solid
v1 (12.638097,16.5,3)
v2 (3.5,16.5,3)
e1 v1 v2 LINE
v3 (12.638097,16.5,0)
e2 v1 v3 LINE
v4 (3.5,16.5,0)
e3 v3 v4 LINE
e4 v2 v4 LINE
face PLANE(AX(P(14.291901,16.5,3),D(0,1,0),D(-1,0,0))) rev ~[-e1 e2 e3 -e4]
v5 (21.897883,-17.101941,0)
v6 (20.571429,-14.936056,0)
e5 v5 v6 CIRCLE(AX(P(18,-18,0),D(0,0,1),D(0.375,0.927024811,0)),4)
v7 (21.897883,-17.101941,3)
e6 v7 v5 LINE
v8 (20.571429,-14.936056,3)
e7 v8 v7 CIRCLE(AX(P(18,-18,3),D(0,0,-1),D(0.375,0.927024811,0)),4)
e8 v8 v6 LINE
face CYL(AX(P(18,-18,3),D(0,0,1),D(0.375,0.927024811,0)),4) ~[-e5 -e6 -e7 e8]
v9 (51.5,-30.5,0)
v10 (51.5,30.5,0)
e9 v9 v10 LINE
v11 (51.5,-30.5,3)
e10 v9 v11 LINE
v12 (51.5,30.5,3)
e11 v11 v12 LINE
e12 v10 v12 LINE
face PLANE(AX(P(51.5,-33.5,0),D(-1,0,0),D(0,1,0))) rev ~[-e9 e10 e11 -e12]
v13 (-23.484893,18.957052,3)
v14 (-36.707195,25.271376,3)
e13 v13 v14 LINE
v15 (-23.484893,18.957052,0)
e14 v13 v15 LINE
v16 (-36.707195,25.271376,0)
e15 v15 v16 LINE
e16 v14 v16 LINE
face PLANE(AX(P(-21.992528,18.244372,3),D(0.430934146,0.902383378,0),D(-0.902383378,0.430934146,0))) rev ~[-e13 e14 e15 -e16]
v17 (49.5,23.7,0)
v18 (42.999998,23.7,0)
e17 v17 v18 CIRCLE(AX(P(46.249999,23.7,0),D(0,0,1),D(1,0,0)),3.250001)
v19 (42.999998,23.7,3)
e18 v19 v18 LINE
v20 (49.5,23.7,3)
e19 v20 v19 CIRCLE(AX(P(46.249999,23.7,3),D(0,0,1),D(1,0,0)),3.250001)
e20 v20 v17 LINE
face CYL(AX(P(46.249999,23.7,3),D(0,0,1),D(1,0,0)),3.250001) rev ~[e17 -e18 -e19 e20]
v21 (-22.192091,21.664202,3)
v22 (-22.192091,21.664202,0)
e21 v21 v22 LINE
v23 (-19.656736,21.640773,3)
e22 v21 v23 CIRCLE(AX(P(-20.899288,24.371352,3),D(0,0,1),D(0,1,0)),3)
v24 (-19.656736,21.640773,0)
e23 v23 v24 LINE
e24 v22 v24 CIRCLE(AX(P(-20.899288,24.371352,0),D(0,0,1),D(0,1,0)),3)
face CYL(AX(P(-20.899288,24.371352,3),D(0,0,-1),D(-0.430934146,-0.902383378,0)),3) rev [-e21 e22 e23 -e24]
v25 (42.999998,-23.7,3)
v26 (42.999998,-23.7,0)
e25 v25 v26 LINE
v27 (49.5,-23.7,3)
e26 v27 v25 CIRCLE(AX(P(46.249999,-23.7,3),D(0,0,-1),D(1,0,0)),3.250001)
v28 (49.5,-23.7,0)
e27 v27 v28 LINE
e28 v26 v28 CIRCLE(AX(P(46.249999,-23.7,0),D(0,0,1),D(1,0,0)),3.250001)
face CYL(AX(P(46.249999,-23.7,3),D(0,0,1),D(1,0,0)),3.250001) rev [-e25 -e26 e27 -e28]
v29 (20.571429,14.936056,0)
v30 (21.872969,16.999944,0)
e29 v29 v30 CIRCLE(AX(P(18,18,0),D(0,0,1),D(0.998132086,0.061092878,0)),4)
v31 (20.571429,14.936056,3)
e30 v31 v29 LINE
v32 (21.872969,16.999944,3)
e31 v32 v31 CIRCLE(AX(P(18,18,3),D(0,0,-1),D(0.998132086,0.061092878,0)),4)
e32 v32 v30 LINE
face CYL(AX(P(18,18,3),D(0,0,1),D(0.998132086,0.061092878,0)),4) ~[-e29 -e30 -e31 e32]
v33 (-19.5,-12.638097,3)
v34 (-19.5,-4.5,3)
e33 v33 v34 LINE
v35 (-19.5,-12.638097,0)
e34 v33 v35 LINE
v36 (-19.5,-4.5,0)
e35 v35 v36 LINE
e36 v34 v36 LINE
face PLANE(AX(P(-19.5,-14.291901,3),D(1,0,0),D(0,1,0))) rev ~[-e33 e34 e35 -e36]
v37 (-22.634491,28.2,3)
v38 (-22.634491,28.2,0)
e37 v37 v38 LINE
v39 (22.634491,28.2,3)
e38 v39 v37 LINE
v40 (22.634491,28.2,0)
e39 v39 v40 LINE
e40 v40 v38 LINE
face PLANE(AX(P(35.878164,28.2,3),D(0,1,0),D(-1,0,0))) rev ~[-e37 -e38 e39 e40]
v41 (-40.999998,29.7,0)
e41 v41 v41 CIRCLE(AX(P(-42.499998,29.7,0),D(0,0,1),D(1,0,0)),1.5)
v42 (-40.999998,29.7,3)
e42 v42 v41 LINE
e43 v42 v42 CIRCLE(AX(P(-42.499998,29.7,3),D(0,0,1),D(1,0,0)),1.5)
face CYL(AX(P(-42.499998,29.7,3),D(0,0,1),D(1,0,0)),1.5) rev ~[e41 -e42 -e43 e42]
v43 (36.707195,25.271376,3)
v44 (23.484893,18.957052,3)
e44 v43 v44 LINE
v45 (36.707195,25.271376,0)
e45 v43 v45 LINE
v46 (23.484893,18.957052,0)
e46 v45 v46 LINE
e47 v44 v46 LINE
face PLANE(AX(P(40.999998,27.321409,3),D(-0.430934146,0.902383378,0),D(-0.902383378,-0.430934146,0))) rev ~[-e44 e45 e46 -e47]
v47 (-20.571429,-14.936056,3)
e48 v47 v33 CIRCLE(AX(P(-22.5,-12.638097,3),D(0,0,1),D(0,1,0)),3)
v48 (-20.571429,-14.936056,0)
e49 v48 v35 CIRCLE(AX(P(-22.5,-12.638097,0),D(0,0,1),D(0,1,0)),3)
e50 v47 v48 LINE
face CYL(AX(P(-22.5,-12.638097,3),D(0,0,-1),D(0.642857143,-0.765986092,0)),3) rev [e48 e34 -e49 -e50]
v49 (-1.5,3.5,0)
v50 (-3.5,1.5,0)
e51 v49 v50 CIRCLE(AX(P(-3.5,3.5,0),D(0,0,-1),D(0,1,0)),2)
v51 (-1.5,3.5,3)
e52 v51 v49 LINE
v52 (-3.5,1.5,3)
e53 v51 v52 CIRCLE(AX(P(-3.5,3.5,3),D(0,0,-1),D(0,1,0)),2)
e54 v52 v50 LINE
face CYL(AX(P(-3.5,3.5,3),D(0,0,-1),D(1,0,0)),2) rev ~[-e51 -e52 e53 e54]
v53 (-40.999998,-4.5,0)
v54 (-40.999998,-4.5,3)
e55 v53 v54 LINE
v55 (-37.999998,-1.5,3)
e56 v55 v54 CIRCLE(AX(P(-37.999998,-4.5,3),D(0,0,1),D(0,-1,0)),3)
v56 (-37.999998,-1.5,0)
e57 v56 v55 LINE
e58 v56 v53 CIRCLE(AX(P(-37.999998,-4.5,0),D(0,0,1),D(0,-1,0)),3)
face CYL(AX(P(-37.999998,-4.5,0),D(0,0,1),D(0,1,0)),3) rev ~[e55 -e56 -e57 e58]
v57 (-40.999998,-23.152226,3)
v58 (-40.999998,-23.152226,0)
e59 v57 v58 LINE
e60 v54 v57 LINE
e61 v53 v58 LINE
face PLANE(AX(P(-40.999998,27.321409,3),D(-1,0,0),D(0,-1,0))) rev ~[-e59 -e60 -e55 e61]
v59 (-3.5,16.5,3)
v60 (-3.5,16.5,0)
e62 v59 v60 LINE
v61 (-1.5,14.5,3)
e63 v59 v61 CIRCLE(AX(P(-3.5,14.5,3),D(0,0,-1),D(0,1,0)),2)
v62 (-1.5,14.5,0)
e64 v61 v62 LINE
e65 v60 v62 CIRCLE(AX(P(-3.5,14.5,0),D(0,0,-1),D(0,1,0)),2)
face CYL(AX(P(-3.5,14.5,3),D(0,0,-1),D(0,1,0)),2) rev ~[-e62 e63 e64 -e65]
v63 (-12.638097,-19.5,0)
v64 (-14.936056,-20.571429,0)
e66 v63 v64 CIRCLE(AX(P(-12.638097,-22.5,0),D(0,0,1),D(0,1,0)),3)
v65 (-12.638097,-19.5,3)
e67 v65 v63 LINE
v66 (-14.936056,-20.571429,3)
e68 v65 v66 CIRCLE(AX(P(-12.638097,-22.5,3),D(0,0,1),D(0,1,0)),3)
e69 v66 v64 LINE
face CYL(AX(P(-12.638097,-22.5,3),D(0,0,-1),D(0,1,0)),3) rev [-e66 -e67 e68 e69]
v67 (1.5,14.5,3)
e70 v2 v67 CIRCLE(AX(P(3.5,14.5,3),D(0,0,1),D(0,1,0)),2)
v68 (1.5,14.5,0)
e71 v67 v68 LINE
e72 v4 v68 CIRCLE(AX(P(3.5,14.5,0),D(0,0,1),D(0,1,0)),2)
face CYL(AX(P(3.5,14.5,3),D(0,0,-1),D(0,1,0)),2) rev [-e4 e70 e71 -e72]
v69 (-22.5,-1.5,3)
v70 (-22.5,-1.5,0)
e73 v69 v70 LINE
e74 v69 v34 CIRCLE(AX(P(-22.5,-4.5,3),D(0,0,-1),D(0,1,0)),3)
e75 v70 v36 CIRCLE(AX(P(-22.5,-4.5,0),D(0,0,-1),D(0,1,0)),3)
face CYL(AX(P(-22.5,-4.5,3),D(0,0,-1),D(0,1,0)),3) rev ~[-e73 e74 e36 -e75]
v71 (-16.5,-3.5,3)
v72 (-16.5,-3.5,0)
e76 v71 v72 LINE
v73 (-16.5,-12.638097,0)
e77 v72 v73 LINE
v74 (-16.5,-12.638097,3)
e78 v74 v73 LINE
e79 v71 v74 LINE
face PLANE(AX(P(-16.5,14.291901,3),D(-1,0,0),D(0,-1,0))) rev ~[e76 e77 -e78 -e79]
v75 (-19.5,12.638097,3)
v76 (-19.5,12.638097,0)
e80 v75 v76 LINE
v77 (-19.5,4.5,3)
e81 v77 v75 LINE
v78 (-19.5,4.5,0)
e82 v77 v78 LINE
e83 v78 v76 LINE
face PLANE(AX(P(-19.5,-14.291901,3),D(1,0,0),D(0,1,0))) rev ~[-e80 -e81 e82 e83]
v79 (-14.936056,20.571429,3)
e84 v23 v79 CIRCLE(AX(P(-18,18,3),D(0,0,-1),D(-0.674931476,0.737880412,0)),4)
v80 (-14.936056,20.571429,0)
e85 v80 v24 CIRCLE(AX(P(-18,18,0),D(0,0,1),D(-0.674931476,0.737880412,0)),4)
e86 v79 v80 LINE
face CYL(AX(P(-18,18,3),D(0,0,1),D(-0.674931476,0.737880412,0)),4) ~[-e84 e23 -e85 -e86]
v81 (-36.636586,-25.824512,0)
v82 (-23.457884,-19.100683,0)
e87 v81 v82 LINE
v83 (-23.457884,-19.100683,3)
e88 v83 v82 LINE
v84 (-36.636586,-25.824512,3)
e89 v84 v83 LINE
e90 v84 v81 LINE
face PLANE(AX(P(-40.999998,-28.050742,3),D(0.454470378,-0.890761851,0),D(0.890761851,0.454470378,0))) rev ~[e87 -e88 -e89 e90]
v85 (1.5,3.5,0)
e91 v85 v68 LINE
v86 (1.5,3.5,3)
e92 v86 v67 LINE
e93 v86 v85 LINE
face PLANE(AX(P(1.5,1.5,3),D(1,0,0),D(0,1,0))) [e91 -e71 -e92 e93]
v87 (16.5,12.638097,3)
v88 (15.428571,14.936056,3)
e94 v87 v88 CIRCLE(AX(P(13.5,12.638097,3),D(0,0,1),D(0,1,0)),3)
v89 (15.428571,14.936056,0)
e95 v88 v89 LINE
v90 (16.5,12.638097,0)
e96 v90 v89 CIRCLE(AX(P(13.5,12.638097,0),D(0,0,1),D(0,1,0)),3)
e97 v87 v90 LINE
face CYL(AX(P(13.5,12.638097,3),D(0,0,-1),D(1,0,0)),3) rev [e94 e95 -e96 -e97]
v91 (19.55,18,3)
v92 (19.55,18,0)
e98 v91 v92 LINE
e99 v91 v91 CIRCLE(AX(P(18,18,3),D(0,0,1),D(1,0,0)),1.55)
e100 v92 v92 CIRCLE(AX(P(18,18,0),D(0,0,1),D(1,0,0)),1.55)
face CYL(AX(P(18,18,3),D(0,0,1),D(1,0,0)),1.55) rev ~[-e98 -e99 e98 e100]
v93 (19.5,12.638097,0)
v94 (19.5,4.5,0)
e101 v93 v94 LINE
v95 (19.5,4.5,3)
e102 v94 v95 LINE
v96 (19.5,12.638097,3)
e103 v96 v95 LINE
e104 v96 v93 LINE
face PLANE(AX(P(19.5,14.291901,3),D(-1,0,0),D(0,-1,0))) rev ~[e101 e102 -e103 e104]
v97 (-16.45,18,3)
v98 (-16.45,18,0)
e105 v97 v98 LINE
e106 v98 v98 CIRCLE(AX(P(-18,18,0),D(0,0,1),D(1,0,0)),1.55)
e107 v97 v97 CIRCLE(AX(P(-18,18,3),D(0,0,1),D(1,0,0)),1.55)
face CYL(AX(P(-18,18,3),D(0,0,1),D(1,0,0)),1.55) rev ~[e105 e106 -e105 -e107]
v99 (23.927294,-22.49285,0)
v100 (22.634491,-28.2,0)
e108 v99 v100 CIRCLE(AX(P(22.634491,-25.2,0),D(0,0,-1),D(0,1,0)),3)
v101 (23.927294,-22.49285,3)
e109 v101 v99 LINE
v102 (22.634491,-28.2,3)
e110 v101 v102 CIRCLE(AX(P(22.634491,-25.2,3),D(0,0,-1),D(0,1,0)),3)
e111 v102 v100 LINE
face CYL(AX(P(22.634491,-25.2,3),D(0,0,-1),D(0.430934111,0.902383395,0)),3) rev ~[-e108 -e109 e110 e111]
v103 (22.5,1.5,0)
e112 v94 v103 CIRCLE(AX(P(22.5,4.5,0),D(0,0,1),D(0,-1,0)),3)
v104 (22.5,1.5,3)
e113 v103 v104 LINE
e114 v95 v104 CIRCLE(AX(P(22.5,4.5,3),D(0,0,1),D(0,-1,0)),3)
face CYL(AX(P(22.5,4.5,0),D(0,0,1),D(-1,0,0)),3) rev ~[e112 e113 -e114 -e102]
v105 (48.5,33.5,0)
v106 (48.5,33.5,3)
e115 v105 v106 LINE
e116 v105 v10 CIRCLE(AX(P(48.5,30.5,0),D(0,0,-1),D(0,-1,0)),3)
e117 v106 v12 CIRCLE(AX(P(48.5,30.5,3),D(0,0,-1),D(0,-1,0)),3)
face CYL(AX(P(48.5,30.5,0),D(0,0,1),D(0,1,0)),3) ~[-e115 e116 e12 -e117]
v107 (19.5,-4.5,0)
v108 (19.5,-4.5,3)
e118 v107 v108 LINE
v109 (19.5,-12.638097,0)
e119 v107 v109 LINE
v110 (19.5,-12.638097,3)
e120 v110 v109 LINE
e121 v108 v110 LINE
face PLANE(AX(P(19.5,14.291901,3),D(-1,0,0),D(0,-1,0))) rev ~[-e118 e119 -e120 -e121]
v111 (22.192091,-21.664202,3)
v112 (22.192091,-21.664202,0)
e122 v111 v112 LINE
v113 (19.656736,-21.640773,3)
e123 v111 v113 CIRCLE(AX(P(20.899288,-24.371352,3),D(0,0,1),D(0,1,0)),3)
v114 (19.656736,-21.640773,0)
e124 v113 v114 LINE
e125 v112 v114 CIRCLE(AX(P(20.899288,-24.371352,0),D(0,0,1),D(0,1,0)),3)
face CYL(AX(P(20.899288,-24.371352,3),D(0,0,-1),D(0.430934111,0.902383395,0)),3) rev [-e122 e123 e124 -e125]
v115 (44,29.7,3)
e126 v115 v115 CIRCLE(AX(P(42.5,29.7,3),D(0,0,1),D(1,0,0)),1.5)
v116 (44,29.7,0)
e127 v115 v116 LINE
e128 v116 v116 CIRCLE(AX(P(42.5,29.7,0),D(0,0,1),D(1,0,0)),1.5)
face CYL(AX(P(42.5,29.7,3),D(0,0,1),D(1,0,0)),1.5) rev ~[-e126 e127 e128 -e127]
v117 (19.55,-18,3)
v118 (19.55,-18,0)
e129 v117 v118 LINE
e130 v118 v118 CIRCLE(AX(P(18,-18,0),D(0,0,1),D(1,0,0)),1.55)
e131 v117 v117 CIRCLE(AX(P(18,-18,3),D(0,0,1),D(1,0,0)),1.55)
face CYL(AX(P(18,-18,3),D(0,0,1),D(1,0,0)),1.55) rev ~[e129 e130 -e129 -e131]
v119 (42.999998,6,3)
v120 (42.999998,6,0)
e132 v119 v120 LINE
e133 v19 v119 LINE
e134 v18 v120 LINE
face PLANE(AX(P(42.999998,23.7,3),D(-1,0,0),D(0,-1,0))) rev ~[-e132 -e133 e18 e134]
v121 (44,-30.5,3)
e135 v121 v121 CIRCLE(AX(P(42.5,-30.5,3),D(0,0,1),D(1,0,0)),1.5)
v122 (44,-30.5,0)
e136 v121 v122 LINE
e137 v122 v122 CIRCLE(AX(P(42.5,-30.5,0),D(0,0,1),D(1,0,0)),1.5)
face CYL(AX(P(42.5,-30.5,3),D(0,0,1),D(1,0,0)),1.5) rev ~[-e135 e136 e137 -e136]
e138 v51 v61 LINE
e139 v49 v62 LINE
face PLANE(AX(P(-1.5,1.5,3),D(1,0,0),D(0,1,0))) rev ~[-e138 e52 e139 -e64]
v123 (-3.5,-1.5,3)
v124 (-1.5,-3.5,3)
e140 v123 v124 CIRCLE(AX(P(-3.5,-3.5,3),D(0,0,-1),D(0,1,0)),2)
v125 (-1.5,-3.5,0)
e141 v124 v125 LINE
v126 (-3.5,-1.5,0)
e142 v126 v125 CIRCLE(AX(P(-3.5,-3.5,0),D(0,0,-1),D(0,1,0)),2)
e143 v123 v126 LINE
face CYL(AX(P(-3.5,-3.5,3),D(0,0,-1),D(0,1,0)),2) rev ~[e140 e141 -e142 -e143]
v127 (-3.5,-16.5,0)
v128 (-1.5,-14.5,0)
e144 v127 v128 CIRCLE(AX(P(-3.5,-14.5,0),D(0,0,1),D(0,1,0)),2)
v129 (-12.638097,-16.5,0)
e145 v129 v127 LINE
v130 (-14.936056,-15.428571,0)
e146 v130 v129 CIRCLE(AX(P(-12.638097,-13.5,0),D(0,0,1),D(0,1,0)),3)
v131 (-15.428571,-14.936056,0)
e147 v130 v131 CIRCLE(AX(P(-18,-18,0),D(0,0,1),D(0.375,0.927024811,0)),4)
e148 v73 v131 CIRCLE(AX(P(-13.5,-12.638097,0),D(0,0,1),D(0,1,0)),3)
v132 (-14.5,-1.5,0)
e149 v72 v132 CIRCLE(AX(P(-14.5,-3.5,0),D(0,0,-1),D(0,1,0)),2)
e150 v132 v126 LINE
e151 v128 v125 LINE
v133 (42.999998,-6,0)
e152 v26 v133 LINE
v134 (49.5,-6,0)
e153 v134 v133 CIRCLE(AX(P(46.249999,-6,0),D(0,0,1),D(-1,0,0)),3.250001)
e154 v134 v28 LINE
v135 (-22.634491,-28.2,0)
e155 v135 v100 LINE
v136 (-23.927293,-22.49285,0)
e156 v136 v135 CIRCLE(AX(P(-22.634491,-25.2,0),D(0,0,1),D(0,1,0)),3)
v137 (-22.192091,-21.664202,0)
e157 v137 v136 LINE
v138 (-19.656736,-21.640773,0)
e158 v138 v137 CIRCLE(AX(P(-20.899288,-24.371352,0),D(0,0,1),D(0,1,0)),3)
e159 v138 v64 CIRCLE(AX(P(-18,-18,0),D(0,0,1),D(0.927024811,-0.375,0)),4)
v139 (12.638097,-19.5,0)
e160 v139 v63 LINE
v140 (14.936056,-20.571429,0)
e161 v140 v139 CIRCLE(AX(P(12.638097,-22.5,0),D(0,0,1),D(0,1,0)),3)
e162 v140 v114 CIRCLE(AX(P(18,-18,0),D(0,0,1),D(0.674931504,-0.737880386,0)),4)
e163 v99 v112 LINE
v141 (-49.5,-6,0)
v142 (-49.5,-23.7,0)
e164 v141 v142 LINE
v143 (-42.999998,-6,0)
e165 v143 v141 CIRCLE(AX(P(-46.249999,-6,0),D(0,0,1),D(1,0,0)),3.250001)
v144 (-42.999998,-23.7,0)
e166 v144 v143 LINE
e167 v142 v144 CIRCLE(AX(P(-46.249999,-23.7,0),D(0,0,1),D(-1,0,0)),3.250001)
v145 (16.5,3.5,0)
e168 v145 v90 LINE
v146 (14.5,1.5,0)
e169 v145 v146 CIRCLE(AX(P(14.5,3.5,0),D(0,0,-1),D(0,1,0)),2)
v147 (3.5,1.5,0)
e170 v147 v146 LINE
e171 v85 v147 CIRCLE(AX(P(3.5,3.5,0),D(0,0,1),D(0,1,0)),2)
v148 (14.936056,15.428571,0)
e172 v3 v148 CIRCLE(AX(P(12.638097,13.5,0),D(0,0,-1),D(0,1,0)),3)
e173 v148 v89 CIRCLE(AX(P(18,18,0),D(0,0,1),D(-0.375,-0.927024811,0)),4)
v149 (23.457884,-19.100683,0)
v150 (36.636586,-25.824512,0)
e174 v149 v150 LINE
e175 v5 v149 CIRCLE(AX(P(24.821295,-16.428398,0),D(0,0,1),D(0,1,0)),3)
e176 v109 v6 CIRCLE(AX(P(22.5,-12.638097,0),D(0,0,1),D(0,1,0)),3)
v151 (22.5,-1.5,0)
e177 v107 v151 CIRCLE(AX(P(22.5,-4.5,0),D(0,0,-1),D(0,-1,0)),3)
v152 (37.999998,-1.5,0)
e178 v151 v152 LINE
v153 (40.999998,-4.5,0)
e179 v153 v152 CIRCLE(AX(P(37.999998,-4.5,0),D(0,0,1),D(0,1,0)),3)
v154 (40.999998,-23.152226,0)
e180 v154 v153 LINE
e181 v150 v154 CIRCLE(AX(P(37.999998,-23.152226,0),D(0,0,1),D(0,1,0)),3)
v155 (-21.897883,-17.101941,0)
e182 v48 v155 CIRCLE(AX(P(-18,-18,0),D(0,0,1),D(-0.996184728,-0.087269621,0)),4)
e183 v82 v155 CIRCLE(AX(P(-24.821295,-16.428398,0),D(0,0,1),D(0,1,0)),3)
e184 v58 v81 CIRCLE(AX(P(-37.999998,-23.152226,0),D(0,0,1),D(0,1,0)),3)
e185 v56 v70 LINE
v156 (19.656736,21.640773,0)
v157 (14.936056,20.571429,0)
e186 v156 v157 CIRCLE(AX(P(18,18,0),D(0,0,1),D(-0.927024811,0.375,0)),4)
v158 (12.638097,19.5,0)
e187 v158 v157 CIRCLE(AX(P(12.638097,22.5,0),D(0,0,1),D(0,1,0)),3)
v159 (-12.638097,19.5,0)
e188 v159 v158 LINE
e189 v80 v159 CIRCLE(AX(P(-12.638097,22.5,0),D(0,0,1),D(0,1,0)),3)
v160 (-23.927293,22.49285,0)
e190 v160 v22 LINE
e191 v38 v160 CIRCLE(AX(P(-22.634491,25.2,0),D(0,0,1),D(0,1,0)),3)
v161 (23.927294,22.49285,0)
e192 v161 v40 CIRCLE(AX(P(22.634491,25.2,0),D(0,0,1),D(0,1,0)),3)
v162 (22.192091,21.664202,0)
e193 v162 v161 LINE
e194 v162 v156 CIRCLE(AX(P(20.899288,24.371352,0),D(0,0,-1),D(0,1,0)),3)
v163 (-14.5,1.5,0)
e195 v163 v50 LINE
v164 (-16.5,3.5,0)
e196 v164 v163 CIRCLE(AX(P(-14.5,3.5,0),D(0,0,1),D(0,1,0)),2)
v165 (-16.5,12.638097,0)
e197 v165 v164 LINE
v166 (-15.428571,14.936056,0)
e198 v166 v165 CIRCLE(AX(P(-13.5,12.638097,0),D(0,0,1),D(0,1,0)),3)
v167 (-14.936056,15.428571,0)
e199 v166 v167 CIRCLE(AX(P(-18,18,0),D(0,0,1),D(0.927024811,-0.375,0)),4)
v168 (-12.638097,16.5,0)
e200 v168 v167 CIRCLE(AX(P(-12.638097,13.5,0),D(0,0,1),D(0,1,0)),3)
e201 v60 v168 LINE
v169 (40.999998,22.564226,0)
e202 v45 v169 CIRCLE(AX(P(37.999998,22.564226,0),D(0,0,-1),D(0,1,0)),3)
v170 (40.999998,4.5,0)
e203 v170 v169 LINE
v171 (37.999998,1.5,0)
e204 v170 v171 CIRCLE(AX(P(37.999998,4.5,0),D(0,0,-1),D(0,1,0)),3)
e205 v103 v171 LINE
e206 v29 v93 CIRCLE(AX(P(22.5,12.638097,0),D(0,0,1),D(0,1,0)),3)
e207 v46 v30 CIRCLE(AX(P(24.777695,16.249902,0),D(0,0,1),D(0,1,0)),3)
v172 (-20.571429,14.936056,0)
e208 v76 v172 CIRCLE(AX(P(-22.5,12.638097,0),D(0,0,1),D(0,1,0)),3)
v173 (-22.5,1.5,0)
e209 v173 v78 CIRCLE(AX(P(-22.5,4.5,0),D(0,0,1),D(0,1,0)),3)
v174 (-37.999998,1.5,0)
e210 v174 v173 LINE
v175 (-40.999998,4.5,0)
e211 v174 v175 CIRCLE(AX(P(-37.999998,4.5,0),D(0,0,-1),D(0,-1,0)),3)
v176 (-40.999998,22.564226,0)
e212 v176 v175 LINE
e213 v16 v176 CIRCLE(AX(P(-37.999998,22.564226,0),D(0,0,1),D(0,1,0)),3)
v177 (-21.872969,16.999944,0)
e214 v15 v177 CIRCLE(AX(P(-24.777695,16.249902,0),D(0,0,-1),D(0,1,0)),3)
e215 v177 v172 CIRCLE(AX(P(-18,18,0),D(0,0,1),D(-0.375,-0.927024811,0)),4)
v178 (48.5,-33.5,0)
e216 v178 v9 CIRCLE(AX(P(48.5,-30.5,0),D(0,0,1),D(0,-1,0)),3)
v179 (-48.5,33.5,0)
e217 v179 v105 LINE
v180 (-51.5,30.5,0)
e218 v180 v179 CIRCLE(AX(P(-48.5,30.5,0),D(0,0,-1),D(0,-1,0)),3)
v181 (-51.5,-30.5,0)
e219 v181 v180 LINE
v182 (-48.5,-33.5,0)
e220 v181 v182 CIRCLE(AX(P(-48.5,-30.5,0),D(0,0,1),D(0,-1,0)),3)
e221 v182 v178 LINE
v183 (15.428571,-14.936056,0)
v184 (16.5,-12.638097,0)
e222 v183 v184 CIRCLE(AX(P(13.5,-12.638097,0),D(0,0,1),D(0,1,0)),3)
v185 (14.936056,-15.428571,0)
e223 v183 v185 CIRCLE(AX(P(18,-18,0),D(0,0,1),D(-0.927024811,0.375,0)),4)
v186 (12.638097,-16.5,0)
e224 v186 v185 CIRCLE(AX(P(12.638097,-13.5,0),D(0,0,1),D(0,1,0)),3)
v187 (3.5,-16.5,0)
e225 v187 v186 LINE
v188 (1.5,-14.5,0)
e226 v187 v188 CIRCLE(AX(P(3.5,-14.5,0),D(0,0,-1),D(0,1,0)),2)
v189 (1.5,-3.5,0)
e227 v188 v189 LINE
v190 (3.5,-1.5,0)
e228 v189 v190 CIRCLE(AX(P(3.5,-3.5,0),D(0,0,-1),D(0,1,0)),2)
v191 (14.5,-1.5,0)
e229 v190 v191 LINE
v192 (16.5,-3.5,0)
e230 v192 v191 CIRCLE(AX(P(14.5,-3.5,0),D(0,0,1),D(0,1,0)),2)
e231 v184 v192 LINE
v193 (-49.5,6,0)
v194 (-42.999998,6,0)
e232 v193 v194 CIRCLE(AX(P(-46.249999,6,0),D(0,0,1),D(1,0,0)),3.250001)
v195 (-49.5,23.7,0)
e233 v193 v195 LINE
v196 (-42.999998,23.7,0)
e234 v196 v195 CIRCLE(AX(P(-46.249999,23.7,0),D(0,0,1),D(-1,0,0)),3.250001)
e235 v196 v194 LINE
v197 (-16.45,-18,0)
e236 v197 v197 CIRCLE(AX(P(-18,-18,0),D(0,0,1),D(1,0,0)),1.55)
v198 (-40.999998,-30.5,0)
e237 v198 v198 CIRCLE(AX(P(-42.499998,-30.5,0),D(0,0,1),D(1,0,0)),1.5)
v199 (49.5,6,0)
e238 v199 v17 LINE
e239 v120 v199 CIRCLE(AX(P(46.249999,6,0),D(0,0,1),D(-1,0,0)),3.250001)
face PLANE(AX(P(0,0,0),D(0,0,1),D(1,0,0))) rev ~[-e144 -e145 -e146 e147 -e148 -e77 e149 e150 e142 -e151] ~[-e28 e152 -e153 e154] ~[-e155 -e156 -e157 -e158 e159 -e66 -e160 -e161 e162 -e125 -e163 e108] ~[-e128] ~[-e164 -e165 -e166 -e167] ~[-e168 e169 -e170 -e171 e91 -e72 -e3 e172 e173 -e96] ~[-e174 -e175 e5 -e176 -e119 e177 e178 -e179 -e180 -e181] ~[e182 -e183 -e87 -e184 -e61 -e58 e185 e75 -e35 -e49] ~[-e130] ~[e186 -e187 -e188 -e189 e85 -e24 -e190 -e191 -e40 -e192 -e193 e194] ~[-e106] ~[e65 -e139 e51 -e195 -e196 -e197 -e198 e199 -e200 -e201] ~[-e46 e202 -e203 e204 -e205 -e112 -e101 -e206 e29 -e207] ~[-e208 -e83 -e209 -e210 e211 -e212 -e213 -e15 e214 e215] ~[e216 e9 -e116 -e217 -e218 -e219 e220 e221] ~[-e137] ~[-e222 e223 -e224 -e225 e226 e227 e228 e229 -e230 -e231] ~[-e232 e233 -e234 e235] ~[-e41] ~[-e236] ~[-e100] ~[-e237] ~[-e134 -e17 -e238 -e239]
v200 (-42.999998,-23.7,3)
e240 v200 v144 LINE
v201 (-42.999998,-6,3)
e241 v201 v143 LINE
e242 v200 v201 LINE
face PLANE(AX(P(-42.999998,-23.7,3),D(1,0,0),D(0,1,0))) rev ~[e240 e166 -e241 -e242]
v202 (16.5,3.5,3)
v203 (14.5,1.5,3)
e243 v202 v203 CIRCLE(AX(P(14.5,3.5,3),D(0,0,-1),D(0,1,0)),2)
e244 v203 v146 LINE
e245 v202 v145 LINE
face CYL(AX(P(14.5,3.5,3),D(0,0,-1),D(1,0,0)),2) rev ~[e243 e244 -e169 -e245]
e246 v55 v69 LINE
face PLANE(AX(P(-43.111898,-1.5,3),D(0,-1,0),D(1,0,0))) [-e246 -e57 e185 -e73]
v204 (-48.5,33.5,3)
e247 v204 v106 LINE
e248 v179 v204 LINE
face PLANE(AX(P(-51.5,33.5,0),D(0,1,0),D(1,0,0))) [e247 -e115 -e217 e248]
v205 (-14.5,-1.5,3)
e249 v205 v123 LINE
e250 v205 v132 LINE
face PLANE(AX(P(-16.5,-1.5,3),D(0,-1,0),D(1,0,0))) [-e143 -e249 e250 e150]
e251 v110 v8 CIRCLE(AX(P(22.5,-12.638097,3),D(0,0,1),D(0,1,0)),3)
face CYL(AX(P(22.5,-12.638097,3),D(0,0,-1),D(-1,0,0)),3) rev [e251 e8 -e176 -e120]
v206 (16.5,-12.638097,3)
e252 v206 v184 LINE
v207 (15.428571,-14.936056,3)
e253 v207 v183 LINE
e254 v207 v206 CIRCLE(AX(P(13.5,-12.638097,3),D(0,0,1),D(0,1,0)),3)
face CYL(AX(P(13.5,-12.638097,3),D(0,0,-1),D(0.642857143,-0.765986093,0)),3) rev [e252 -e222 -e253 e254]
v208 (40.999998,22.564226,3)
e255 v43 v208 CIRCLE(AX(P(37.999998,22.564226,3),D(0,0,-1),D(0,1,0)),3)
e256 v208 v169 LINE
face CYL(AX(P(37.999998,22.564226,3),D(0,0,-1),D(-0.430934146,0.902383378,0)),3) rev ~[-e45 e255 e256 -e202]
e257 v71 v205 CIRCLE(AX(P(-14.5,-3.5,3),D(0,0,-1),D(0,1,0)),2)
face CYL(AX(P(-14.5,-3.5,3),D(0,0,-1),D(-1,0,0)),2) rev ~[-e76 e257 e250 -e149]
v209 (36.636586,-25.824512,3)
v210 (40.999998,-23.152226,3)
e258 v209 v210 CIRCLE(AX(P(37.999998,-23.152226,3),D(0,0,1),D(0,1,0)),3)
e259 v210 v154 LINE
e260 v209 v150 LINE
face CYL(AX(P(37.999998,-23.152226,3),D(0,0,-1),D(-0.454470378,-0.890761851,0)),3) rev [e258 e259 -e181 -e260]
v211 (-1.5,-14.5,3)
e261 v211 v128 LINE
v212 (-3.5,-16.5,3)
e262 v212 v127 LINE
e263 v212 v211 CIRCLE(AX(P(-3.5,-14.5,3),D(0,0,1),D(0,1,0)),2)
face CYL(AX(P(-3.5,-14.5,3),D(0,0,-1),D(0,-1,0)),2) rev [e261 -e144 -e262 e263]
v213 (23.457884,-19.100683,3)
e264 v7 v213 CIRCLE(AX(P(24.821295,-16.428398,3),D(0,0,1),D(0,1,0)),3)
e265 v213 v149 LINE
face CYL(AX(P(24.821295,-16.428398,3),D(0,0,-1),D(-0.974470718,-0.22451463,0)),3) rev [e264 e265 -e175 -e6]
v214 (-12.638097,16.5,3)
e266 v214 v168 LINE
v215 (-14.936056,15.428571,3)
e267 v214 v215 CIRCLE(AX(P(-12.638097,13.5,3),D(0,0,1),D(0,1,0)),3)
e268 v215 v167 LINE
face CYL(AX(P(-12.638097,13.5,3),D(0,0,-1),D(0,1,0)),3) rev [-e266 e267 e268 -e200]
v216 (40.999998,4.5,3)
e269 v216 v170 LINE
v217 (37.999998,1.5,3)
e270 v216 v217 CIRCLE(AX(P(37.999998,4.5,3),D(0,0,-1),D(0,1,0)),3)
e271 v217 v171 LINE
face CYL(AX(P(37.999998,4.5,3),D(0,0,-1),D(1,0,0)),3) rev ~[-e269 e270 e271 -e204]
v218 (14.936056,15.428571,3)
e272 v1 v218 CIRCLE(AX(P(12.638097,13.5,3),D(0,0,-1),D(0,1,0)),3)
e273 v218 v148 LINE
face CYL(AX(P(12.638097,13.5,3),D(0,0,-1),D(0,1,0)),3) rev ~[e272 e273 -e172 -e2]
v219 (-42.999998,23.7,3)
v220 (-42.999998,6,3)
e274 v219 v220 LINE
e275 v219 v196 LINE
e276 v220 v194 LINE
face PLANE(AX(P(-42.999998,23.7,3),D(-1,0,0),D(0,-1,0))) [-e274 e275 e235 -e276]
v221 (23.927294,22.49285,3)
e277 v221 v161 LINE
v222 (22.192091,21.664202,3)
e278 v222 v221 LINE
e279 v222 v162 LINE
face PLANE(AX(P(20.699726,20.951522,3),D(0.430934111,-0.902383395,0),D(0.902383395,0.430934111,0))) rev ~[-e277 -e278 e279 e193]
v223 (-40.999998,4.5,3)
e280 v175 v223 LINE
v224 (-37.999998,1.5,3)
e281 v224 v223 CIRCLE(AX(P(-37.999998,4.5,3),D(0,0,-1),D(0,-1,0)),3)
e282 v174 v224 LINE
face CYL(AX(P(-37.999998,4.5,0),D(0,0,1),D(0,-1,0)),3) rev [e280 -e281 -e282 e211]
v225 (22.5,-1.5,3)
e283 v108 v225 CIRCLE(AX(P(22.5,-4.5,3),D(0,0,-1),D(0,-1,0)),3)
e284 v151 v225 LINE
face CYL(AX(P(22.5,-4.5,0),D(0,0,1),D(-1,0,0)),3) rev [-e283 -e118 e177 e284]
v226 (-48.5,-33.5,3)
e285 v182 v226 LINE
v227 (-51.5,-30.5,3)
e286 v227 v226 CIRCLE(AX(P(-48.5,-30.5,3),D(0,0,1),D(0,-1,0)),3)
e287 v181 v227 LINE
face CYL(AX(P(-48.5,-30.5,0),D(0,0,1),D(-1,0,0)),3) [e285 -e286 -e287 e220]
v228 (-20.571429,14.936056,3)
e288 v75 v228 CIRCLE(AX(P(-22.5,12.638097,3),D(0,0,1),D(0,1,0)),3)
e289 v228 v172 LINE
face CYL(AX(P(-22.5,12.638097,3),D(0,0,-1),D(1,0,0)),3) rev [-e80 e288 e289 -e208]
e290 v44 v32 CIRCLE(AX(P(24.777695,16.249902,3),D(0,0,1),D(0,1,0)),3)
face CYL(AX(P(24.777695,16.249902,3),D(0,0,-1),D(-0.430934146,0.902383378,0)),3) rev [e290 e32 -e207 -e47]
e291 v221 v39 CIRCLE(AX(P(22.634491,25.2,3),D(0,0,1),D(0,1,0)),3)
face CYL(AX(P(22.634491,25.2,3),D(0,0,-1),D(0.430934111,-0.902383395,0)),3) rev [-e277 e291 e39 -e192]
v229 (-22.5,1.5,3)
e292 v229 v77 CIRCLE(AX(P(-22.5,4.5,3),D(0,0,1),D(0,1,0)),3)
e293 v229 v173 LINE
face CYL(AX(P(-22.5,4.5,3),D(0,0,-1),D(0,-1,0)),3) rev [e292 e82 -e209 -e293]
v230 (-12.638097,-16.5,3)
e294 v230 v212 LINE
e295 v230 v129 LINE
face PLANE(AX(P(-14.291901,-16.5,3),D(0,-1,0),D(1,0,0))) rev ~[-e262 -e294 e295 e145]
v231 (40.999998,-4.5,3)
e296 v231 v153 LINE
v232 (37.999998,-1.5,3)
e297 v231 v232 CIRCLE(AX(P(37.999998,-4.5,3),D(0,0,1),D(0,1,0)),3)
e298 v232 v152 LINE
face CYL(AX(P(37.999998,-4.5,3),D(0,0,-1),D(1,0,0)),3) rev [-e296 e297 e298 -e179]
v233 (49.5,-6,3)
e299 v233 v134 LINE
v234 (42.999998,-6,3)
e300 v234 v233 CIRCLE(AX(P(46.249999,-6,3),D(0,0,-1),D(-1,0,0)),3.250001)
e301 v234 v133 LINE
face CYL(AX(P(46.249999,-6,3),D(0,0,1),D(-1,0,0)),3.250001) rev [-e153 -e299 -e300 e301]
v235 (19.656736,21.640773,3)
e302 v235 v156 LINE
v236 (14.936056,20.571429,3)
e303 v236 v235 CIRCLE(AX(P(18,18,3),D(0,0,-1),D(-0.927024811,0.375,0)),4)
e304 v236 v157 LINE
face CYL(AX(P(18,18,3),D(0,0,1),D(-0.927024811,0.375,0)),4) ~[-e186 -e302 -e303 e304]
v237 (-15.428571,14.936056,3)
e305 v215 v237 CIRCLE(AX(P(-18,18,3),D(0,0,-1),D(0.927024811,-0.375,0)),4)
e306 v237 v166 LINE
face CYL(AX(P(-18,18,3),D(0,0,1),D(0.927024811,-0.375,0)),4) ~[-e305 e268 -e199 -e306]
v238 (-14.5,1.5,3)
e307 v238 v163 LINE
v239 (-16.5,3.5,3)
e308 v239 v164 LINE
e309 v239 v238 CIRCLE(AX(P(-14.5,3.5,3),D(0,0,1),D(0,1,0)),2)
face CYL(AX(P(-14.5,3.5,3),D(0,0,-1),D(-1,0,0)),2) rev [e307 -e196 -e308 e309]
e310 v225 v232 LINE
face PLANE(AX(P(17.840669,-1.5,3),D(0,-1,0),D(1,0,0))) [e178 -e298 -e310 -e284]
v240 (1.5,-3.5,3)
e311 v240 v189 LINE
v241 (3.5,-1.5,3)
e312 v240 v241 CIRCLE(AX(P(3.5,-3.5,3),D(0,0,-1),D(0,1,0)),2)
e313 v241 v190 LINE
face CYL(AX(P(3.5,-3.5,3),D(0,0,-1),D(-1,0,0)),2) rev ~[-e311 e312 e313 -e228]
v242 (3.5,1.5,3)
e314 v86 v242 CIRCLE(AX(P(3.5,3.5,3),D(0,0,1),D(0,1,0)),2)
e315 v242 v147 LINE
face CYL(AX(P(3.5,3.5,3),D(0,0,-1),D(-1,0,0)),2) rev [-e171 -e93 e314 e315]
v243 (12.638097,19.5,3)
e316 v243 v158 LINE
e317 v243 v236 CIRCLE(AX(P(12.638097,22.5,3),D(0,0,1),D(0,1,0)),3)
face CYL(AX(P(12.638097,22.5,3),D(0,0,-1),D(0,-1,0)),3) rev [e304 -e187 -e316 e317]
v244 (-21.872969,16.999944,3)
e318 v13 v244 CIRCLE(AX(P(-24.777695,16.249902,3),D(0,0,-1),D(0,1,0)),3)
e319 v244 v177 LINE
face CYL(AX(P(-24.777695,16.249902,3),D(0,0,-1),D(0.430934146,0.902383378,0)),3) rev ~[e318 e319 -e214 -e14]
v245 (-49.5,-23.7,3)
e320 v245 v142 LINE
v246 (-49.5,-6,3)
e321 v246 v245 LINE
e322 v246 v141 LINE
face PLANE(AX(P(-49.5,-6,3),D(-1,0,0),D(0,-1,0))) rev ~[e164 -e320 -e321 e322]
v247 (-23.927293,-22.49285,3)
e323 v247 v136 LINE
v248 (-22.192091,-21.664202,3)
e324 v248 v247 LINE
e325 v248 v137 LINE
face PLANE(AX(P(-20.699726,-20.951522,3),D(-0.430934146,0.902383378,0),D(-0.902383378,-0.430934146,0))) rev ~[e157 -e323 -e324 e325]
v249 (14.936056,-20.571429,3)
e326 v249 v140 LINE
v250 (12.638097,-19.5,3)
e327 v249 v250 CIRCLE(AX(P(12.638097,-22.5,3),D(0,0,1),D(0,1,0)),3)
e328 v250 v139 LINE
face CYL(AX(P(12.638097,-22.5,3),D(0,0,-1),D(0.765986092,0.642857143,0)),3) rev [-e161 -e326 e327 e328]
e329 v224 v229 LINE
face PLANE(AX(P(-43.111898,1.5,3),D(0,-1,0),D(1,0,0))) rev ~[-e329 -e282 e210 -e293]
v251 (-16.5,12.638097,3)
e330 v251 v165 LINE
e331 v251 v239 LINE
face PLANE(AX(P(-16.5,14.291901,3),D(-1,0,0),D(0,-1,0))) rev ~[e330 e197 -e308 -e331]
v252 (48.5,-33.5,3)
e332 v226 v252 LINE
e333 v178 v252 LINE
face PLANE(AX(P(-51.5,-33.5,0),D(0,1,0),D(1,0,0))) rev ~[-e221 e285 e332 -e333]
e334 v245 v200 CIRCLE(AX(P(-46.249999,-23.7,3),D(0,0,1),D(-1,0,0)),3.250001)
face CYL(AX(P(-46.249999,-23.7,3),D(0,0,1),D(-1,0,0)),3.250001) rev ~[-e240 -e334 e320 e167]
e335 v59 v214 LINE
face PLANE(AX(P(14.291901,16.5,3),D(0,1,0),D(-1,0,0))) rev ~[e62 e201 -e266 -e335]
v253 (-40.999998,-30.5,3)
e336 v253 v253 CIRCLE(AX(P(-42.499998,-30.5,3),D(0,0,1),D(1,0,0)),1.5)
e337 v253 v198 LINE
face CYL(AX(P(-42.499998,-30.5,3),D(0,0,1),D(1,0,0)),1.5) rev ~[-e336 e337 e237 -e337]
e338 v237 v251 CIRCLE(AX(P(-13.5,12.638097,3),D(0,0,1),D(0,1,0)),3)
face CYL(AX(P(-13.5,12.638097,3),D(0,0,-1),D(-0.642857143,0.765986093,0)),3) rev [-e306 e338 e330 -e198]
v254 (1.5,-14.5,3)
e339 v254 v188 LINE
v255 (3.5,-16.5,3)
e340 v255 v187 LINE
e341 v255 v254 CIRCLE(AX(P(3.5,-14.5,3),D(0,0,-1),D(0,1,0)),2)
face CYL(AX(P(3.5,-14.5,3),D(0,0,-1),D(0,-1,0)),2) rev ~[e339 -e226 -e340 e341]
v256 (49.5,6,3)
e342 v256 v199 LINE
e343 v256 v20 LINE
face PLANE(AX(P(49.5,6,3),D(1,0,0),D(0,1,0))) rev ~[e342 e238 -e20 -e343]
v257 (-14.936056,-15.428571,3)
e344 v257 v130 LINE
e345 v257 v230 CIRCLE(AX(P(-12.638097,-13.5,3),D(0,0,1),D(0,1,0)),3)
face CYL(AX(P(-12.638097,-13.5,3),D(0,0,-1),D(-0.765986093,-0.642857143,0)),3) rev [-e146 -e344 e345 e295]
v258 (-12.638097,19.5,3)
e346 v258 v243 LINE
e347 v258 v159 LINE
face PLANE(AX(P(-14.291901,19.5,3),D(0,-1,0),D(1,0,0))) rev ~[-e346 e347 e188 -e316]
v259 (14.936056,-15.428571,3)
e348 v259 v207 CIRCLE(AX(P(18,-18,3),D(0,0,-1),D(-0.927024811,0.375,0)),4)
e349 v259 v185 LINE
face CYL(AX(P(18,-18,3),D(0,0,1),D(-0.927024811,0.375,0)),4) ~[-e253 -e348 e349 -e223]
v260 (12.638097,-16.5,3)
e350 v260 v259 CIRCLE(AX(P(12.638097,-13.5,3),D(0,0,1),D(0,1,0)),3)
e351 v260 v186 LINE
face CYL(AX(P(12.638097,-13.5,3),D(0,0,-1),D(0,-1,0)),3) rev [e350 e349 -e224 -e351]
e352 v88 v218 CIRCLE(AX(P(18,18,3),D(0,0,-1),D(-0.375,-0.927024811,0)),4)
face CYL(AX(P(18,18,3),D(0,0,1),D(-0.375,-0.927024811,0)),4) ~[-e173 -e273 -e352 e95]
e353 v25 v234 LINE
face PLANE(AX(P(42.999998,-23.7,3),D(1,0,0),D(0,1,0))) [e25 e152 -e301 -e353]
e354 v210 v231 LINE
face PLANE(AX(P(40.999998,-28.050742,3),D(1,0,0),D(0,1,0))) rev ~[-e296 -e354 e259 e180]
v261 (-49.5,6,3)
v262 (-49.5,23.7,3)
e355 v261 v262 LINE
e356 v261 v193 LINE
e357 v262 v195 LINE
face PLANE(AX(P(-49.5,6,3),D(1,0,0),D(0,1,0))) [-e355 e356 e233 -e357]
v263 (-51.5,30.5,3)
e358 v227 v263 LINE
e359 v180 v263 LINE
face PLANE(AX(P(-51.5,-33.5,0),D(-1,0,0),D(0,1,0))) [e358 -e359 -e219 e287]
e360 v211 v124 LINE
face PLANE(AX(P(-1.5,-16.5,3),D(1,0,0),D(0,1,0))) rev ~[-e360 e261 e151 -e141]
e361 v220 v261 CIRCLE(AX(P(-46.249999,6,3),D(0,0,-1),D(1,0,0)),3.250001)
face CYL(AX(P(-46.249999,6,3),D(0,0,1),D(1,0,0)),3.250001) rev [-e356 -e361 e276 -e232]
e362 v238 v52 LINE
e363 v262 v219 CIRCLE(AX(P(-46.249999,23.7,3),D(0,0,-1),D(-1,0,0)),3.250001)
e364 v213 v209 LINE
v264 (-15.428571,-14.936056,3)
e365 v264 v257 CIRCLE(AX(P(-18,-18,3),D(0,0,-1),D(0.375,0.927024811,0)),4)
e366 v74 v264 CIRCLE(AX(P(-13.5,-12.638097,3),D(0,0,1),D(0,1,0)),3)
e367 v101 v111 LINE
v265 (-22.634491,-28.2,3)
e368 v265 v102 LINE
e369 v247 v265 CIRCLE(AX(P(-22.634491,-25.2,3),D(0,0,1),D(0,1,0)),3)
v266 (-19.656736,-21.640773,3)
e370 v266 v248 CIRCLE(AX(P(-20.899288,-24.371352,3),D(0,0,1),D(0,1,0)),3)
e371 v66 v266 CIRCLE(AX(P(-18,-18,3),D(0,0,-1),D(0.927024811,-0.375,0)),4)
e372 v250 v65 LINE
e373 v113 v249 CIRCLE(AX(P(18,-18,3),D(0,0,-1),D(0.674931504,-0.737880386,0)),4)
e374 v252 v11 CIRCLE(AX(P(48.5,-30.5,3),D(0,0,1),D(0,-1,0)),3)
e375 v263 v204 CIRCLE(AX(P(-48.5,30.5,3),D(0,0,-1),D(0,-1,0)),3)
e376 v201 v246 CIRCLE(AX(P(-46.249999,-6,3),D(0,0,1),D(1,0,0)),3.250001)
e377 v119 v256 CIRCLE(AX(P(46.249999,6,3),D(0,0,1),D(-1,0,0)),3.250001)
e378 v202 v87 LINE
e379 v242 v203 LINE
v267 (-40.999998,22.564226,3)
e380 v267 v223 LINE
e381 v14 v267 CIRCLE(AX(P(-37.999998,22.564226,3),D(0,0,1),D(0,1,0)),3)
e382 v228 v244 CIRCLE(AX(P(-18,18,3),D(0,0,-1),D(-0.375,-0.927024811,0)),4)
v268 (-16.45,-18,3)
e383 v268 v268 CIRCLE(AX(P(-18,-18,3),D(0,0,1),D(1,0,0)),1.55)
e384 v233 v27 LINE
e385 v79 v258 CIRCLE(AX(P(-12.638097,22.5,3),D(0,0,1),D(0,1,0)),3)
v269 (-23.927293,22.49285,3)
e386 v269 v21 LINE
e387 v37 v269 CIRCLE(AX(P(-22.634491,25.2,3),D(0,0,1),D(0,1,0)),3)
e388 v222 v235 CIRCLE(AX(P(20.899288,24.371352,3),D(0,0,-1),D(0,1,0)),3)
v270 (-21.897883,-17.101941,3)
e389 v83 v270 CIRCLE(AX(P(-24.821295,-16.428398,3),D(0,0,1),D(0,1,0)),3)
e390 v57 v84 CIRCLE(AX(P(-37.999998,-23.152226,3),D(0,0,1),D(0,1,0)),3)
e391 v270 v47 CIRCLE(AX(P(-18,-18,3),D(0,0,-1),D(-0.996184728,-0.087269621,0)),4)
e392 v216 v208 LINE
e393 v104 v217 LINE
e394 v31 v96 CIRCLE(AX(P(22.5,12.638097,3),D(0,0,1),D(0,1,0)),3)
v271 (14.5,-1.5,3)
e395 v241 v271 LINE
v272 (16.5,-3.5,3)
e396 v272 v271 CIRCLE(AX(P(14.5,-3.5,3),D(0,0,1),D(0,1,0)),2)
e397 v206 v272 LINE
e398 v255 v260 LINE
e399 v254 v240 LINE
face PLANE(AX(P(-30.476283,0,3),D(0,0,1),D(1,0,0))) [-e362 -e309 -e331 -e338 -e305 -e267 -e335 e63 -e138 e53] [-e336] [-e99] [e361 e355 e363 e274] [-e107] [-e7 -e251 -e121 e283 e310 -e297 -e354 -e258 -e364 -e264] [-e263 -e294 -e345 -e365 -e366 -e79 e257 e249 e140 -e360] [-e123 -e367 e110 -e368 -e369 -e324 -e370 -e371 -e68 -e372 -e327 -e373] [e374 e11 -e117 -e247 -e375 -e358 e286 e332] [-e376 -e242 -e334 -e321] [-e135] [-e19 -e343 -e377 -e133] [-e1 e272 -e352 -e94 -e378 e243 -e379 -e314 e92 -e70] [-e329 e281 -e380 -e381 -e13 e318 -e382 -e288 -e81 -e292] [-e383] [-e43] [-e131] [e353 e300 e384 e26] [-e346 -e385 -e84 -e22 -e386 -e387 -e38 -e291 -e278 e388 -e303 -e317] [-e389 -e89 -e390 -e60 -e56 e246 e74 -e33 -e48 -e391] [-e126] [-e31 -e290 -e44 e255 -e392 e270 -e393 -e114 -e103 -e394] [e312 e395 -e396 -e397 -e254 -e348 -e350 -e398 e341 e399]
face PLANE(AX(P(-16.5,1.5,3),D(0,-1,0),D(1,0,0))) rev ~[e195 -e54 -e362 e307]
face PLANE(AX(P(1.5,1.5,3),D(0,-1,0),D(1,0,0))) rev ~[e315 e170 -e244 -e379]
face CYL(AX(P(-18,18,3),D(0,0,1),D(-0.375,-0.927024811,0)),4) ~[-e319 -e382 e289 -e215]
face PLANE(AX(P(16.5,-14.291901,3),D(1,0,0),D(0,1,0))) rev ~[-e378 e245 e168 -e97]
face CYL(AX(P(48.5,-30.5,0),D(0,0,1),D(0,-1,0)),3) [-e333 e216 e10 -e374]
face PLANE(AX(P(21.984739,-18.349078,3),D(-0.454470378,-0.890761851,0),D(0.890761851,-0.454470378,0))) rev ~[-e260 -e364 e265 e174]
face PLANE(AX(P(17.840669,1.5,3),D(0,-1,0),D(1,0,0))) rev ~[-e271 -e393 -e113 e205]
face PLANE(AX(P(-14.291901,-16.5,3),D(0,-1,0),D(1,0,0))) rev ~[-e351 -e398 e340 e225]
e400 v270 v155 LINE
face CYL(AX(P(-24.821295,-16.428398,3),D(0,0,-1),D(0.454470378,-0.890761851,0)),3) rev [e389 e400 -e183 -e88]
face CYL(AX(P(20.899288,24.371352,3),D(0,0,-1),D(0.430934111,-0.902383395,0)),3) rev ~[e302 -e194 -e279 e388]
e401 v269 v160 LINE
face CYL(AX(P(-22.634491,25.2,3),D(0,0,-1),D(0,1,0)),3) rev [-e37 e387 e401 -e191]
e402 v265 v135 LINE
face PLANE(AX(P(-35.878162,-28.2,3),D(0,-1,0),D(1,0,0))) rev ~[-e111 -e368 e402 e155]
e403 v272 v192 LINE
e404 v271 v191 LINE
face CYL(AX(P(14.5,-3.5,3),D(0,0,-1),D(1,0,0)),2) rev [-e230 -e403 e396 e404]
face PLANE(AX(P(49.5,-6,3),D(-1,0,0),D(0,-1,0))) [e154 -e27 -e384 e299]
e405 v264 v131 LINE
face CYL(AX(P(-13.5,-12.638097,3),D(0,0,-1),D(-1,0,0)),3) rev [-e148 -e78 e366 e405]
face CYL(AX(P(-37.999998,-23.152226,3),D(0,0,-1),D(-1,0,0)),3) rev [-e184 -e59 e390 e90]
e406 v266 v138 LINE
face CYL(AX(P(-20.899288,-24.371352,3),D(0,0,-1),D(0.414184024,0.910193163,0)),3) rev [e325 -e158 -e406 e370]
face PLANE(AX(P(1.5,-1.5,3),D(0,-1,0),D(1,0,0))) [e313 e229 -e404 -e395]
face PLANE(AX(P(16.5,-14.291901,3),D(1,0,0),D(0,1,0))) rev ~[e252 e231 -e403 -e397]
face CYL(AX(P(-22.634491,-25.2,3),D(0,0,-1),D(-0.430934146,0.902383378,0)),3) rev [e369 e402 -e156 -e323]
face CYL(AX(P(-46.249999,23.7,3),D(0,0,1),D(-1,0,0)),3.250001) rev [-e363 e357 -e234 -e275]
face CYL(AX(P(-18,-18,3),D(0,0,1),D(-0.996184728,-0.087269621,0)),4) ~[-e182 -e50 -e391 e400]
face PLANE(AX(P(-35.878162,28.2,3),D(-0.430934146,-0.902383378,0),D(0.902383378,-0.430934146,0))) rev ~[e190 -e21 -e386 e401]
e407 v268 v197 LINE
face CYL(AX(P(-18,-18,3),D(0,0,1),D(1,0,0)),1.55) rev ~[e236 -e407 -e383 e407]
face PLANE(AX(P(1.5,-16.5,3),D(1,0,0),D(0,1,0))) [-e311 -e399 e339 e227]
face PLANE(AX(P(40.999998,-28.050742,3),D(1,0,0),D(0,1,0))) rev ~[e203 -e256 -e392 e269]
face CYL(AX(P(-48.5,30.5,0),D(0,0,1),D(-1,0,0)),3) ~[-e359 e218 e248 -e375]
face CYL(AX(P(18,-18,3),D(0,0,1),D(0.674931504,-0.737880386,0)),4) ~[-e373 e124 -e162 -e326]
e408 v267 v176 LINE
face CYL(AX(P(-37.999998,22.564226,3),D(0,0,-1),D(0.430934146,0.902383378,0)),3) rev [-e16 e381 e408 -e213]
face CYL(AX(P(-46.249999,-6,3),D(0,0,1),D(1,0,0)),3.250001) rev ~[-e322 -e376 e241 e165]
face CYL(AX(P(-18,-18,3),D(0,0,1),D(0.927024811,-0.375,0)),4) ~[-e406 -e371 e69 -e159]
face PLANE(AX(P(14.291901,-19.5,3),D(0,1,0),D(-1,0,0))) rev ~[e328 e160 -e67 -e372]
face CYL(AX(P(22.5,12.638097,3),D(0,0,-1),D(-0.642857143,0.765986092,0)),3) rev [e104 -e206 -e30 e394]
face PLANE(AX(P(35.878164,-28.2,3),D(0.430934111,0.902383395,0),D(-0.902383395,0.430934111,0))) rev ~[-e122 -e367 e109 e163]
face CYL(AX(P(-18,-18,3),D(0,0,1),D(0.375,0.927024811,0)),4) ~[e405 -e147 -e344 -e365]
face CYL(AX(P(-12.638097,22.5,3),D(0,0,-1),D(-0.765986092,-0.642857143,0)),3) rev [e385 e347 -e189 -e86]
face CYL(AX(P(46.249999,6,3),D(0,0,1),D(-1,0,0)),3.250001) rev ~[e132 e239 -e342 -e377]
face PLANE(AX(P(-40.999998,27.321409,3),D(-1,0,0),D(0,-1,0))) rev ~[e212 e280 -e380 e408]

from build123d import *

# Parameters (mm, degrees)
SKETCH_1_W          = 103
SKETCH_1_H          = 67
EXTRUDE_1_DEPTH     = 3
SKETCH_2_R          = 1.55
SKETCH_2_R_2        = 1.5
CUT_EXTRUDE_1_DEPTH = 10
CUT_EXTRUDE_2_DEPTH = 10
FILLET_1_R          = 3
SKETCH_5_W          = 25.271228892
SKETCH_5_H          = 3
EXTRUDE_2_DEPTH     = 3
FILLET_2_R          = 3
CUT_EXTRUDE_3_DEPTH = 10
SKETCH_7_W          = 3
SKETCH_7_H          = 15
SKETCH_7_W_2        = 15
SKETCH_7_H_2        = 3
EXTRUDE_3_DEPTH     = 3
FILLET_3_R          = 2


with BuildPart() as part:
    # 草图1 → 凸台-拉伸1 (new body)
    with BuildSketch(Plane.XY):
        Rectangle(SKETCH_1_W, SKETCH_1_H)
    extrude(amount=EXTRUDE_1_DEPTH)

    # 草图2 → 切除-拉伸1 (cut)
    with BuildSketch(Plane.XY.offset(3)):
        with Locations((-18, 18)):
            Circle(SKETCH_2_R)
        with Locations((18, 18)):
            Circle(SKETCH_2_R)
        with Locations((18, -18)):
            Circle(SKETCH_2_R)
        with Locations((-18, -18)):
            Circle(SKETCH_2_R)
        with Locations((42.5, 29.7)):
            Circle(SKETCH_2_R_2)
        with Locations((42.5, -30.5)):
            Circle(SKETCH_2_R_2)
        with Locations((-42.499997562, -30.5)):
            Circle(SKETCH_2_R_2)
        with Locations((-42.499997562, 29.7)):
            Circle(SKETCH_2_R_2)
    extrude(amount=-CUT_EXTRUDE_1_DEPTH, mode=Mode.SUBTRACT)

    # 草图4 → 切除-拉伸2 (cut)
    with BuildSketch(Plane.XY.offset(3)):
        with BuildLine():
            Line((20.699726018, 20.951521544), (35.87816381, 28.2))
            Line((35.87816381, 28.2), (-35.878161967, 28.2))
            Line((-35.878161967, 28.2), (-20.699725904, 20.951521649))
            ThreePointArc((-20.699725904, 20.951521649), (-17.11629588, 21.901162266), (-14.291900756, 19.5))
            Line((-14.291900756, 19.5), (14.291900756, 19.5))
            ThreePointArc((14.291900756, 19.5), (17.116295955, 21.901162283), (20.699726018, 20.951521544))
        make_face()
        with BuildLine():
            Line((40.999997562, 27.321408738), (21.992528342, 18.244371513))
            ThreePointArc((21.992528342, 18.244371513), (21.383411469, 15.866334883), (19.5, 14.291900756))
            Line((19.5, 14.291900756), (19.5, -14.291900756))
            ThreePointArc((19.5, -14.291900756), (21.411123425, -15.910924372), (21.984738914, -18.349078486))
            Line((21.984738914, -18.349078486), (40.999997562, -28.050742027))
            Line((40.999997562, -28.050742027), (40.999997562, 27.321408738))
        make_face()
        with BuildLine():
            ThreePointArc((16.5, 14.291900756), (15.171572875, 15.171572875), (14.291900756, 16.5))
            Line((14.291900756, 16.5), (-14.291900756, 16.5))
            ThreePointArc((-14.291900756, 16.5), (-15.171572875, 15.171572875), (-16.5, 14.291900756))
            Line((-16.5, 14.291900756), (-16.5, -14.291900756))
            ThreePointArc((-16.5, -14.291900756), (-15.171572875, -15.171572875), (-14.291900756, -16.5))
            Line((-14.291900756, -16.5), (14.291900756, -16.5))
            ThreePointArc((14.291900756, -16.5), (15.171572875, -15.171572875), (16.5, -14.291900756))
            Line((16.5, -14.291900756), (16.5, 14.291900756))
        make_face()
        with BuildLine():
            ThreePointArc((-19.5, 14.291900756), (-21.383411469, 15.866334883), (-21.992528342, 18.244371513))
            Line((-21.992528342, 18.244371513), (-40.999997562, 27.321408738))
            Line((-40.999997562, 27.321408738), (-40.999997562, -28.050742027))
            Line((-40.999997562, -28.050742027), (-21.984738914, -18.349078486))
            ThreePointArc((-21.984738914, -18.349078486), (-21.411123425, -15.910924372), (-19.5, -14.291900756))
            Line((-19.5, -14.291900756), (-19.5, 14.291900756))
        make_face()
        with BuildLine():
            Line((35.87816381, -28.2), (20.699726018, -20.951521544))
            ThreePointArc((20.699726018, -20.951521544), (17.116295955, -21.901162283), (14.291900756, -19.5))
            Line((14.291900756, -19.5), (-14.291900756, -19.5))
            ThreePointArc((-14.291900756, -19.5), (-17.11629588, -21.901162266), (-20.699725904, -20.951521649))
            Line((-20.699725904, -20.951521649), (-35.878161967, -28.2))
            Line((-35.878161967, -28.2), (35.87816381, -28.2))
        make_face()
    extrude(amount=-CUT_EXTRUDE_2_DEPTH, mode=Mode.SUBTRACT)

    # 圆角1
    fillet_1_edges = [part.edges().sort_by_distance(p)[0] for p in [
        (16.5, -14.291900756, 1.5),
        (14.291900756, -16.5, 1.5),
        (-14.291900756, -16.5, 1.5),
        (-16.5, -14.291900756, 1.5),
        (-16.5, 14.291900756, 1.5),
        (-14.291900756, 16.5, 1.5),
        (14.291900756, 16.5, 1.5),
        (16.5, 14.291900756, 1.5),
        (14.291900756, -19.5, 1.5),
        (20.699726018, -20.951521544, 1.5),
        (35.87816381, -28.2, 1.5),
        (-35.878161967, -28.2, 1.5),
        (-20.699725904, -20.951521649, 1.5),
        (-14.291900756, -19.5, 1.5),
        (21.984738914, -18.349078486, 1.5),
        (19.5, -14.291900756, 1.5),
        (19.5, 14.291900756, 1.5),
        (21.992528342, 18.244371513, 1.5),
        (40.999997562, 27.321408738, 1.5),
        (40.999997562, -28.050742027, 1.5),
        (-19.5, -14.291900756, 1.5),
        (-21.984738914, -18.349078486, 1.5),
        (-40.999997562, -28.050742027, 1.5),
        (-40.999997562, 27.321408738, 1.5),
        (-21.992528342, 18.244371513, 1.5),
        (-19.5, 14.291900756, 1.5),
        (20.699726018, 20.951521544, 1.5),
        (14.291900756, 19.5, 1.5),
        (-14.291900756, 19.5, 1.5),
        (-20.699725904, 20.951521649, 1.5),
        (-35.878161967, 28.2, 1.5),
        (35.87816381, 28.2, 1.5),
    ]]
    fillet(fillet_1_edges, radius=FILLET_1_R)

    # 草图5 → 凸台-拉伸2 (add)
    with BuildSketch(Plane.XY.offset(3)):
        with Locations((-30.476283089, 0)):
            Rectangle(SKETCH_5_W, SKETCH_5_H)
        with Locations((30.476283089, 0)):
            Rectangle(SKETCH_5_W, SKETCH_5_H)
    extrude(amount=-EXTRUDE_2_DEPTH)

    # 圆角2
    fillet_2_edges = [part.edges().sort_by_distance(p)[0] for p in [
        (-19.5, -1.5, 1.5),
        (-19.5, 1.5, 1.5),
        (-40.999997562, 1.5, 1.5),
        (-40.999997562, -1.5, 1.5),
        (40.999997562, -1.5, 1.5),
        (40.999997562, 1.5, 1.5),
        (19.5, 1.5, 1.5),
        (19.5, -1.5, 1.5),
        (-51.5, 33.5, 1.5),
        (51.5, 33.5, 1.5),
        (51.5, -33.5, 1.5),
        (-51.5, -33.5, 1.5),
    ]]
    fillet(fillet_2_edges, radius=FILLET_2_R)

    # 草图6 → 切除-拉伸3 (cut)
    with BuildSketch(Plane.XY.offset(3)):
        with BuildLine():
            Line((-42.999997562, 23.7), (-42.999997562, 6))
            ThreePointArc((-42.999997562, 6), (-46.249998781, 2.749998781), (-49.5, 6))
            Line((-49.5, 6), (-49.5, 23.7))
            ThreePointArc((-49.5, 23.7), (-46.249998781, 26.950001219), (-42.999997562, 23.7))
        make_face()
        with BuildLine():
            Line((42.999997562, 23.7), (42.999997562, 6))
            ThreePointArc((42.999997562, 6), (46.249998781, 2.749998781), (49.5, 6))
            Line((49.5, 6), (49.5, 23.7))
            ThreePointArc((49.5, 23.7), (46.249998781, 26.950001219), (42.999997562, 23.7))
        make_face()
        with BuildLine():
            Line((42.999997562, -23.7), (42.999997562, -6))
            ThreePointArc((42.999997562, -6), (46.249998781, -2.749998781), (49.5, -6))
            Line((49.5, -6), (49.5, -23.7))
            ThreePointArc((49.5, -23.7), (46.249998781, -26.950001219), (42.999997562, -23.7))
        make_face()
        with BuildLine():
            Line((-42.999997562, -23.7), (-42.999997562, -6))
            ThreePointArc((-42.999997562, -6), (-46.249998781, -2.749998781), (-49.5, -6))
            Line((-49.5, -6), (-49.5, -23.7))
            ThreePointArc((-49.5, -23.7), (-46.249998781, -26.950001219), (-42.999997562, -23.7))
        make_face()
    extrude(amount=-CUT_EXTRUDE_3_DEPTH, mode=Mode.SUBTRACT)

    # 草图7 → 凸台-拉伸3 (add)
    with BuildSketch(Plane.XY.offset(3)):
        with Locations((0, 9)):
            Rectangle(SKETCH_7_W, SKETCH_7_H)
        with Locations((-9, 0)):
            Rectangle(SKETCH_7_W_2, SKETCH_7_H_2)
        Rectangle(SKETCH_7_W, SKETCH_7_H_2)
        with Locations((9, 0)):
            Rectangle(SKETCH_7_W_2, SKETCH_7_H_2)
        with Locations((0, -9)):
            Rectangle(SKETCH_7_W, SKETCH_7_H)
    extrude(amount=-EXTRUDE_3_DEPTH)

    # 圆角3
    fillet_3_edges = [part.edges().sort_by_distance(p)[0] for p in [
        (1.5, 16.5, 1.5),
        (1.5, 1.5, 1.5),
        (16.5, 1.5, 1.5),
        (16.5, -1.5, 1.5),
        (1.5, -1.5, 1.5),
        (1.5, -16.5, 1.5),
        (-1.5, -16.5, 1.5),
        (-1.5, -1.5, 1.5),
        (-16.5, -1.5, 1.5),
        (-16.5, 1.5, 1.5),
        (-1.5, 1.5, 1.5),
        (-1.5, 16.5, 1.5),
    ]]
    fillet(fillet_3_edges, radius=FILLET_3_R)


solid = part.part
